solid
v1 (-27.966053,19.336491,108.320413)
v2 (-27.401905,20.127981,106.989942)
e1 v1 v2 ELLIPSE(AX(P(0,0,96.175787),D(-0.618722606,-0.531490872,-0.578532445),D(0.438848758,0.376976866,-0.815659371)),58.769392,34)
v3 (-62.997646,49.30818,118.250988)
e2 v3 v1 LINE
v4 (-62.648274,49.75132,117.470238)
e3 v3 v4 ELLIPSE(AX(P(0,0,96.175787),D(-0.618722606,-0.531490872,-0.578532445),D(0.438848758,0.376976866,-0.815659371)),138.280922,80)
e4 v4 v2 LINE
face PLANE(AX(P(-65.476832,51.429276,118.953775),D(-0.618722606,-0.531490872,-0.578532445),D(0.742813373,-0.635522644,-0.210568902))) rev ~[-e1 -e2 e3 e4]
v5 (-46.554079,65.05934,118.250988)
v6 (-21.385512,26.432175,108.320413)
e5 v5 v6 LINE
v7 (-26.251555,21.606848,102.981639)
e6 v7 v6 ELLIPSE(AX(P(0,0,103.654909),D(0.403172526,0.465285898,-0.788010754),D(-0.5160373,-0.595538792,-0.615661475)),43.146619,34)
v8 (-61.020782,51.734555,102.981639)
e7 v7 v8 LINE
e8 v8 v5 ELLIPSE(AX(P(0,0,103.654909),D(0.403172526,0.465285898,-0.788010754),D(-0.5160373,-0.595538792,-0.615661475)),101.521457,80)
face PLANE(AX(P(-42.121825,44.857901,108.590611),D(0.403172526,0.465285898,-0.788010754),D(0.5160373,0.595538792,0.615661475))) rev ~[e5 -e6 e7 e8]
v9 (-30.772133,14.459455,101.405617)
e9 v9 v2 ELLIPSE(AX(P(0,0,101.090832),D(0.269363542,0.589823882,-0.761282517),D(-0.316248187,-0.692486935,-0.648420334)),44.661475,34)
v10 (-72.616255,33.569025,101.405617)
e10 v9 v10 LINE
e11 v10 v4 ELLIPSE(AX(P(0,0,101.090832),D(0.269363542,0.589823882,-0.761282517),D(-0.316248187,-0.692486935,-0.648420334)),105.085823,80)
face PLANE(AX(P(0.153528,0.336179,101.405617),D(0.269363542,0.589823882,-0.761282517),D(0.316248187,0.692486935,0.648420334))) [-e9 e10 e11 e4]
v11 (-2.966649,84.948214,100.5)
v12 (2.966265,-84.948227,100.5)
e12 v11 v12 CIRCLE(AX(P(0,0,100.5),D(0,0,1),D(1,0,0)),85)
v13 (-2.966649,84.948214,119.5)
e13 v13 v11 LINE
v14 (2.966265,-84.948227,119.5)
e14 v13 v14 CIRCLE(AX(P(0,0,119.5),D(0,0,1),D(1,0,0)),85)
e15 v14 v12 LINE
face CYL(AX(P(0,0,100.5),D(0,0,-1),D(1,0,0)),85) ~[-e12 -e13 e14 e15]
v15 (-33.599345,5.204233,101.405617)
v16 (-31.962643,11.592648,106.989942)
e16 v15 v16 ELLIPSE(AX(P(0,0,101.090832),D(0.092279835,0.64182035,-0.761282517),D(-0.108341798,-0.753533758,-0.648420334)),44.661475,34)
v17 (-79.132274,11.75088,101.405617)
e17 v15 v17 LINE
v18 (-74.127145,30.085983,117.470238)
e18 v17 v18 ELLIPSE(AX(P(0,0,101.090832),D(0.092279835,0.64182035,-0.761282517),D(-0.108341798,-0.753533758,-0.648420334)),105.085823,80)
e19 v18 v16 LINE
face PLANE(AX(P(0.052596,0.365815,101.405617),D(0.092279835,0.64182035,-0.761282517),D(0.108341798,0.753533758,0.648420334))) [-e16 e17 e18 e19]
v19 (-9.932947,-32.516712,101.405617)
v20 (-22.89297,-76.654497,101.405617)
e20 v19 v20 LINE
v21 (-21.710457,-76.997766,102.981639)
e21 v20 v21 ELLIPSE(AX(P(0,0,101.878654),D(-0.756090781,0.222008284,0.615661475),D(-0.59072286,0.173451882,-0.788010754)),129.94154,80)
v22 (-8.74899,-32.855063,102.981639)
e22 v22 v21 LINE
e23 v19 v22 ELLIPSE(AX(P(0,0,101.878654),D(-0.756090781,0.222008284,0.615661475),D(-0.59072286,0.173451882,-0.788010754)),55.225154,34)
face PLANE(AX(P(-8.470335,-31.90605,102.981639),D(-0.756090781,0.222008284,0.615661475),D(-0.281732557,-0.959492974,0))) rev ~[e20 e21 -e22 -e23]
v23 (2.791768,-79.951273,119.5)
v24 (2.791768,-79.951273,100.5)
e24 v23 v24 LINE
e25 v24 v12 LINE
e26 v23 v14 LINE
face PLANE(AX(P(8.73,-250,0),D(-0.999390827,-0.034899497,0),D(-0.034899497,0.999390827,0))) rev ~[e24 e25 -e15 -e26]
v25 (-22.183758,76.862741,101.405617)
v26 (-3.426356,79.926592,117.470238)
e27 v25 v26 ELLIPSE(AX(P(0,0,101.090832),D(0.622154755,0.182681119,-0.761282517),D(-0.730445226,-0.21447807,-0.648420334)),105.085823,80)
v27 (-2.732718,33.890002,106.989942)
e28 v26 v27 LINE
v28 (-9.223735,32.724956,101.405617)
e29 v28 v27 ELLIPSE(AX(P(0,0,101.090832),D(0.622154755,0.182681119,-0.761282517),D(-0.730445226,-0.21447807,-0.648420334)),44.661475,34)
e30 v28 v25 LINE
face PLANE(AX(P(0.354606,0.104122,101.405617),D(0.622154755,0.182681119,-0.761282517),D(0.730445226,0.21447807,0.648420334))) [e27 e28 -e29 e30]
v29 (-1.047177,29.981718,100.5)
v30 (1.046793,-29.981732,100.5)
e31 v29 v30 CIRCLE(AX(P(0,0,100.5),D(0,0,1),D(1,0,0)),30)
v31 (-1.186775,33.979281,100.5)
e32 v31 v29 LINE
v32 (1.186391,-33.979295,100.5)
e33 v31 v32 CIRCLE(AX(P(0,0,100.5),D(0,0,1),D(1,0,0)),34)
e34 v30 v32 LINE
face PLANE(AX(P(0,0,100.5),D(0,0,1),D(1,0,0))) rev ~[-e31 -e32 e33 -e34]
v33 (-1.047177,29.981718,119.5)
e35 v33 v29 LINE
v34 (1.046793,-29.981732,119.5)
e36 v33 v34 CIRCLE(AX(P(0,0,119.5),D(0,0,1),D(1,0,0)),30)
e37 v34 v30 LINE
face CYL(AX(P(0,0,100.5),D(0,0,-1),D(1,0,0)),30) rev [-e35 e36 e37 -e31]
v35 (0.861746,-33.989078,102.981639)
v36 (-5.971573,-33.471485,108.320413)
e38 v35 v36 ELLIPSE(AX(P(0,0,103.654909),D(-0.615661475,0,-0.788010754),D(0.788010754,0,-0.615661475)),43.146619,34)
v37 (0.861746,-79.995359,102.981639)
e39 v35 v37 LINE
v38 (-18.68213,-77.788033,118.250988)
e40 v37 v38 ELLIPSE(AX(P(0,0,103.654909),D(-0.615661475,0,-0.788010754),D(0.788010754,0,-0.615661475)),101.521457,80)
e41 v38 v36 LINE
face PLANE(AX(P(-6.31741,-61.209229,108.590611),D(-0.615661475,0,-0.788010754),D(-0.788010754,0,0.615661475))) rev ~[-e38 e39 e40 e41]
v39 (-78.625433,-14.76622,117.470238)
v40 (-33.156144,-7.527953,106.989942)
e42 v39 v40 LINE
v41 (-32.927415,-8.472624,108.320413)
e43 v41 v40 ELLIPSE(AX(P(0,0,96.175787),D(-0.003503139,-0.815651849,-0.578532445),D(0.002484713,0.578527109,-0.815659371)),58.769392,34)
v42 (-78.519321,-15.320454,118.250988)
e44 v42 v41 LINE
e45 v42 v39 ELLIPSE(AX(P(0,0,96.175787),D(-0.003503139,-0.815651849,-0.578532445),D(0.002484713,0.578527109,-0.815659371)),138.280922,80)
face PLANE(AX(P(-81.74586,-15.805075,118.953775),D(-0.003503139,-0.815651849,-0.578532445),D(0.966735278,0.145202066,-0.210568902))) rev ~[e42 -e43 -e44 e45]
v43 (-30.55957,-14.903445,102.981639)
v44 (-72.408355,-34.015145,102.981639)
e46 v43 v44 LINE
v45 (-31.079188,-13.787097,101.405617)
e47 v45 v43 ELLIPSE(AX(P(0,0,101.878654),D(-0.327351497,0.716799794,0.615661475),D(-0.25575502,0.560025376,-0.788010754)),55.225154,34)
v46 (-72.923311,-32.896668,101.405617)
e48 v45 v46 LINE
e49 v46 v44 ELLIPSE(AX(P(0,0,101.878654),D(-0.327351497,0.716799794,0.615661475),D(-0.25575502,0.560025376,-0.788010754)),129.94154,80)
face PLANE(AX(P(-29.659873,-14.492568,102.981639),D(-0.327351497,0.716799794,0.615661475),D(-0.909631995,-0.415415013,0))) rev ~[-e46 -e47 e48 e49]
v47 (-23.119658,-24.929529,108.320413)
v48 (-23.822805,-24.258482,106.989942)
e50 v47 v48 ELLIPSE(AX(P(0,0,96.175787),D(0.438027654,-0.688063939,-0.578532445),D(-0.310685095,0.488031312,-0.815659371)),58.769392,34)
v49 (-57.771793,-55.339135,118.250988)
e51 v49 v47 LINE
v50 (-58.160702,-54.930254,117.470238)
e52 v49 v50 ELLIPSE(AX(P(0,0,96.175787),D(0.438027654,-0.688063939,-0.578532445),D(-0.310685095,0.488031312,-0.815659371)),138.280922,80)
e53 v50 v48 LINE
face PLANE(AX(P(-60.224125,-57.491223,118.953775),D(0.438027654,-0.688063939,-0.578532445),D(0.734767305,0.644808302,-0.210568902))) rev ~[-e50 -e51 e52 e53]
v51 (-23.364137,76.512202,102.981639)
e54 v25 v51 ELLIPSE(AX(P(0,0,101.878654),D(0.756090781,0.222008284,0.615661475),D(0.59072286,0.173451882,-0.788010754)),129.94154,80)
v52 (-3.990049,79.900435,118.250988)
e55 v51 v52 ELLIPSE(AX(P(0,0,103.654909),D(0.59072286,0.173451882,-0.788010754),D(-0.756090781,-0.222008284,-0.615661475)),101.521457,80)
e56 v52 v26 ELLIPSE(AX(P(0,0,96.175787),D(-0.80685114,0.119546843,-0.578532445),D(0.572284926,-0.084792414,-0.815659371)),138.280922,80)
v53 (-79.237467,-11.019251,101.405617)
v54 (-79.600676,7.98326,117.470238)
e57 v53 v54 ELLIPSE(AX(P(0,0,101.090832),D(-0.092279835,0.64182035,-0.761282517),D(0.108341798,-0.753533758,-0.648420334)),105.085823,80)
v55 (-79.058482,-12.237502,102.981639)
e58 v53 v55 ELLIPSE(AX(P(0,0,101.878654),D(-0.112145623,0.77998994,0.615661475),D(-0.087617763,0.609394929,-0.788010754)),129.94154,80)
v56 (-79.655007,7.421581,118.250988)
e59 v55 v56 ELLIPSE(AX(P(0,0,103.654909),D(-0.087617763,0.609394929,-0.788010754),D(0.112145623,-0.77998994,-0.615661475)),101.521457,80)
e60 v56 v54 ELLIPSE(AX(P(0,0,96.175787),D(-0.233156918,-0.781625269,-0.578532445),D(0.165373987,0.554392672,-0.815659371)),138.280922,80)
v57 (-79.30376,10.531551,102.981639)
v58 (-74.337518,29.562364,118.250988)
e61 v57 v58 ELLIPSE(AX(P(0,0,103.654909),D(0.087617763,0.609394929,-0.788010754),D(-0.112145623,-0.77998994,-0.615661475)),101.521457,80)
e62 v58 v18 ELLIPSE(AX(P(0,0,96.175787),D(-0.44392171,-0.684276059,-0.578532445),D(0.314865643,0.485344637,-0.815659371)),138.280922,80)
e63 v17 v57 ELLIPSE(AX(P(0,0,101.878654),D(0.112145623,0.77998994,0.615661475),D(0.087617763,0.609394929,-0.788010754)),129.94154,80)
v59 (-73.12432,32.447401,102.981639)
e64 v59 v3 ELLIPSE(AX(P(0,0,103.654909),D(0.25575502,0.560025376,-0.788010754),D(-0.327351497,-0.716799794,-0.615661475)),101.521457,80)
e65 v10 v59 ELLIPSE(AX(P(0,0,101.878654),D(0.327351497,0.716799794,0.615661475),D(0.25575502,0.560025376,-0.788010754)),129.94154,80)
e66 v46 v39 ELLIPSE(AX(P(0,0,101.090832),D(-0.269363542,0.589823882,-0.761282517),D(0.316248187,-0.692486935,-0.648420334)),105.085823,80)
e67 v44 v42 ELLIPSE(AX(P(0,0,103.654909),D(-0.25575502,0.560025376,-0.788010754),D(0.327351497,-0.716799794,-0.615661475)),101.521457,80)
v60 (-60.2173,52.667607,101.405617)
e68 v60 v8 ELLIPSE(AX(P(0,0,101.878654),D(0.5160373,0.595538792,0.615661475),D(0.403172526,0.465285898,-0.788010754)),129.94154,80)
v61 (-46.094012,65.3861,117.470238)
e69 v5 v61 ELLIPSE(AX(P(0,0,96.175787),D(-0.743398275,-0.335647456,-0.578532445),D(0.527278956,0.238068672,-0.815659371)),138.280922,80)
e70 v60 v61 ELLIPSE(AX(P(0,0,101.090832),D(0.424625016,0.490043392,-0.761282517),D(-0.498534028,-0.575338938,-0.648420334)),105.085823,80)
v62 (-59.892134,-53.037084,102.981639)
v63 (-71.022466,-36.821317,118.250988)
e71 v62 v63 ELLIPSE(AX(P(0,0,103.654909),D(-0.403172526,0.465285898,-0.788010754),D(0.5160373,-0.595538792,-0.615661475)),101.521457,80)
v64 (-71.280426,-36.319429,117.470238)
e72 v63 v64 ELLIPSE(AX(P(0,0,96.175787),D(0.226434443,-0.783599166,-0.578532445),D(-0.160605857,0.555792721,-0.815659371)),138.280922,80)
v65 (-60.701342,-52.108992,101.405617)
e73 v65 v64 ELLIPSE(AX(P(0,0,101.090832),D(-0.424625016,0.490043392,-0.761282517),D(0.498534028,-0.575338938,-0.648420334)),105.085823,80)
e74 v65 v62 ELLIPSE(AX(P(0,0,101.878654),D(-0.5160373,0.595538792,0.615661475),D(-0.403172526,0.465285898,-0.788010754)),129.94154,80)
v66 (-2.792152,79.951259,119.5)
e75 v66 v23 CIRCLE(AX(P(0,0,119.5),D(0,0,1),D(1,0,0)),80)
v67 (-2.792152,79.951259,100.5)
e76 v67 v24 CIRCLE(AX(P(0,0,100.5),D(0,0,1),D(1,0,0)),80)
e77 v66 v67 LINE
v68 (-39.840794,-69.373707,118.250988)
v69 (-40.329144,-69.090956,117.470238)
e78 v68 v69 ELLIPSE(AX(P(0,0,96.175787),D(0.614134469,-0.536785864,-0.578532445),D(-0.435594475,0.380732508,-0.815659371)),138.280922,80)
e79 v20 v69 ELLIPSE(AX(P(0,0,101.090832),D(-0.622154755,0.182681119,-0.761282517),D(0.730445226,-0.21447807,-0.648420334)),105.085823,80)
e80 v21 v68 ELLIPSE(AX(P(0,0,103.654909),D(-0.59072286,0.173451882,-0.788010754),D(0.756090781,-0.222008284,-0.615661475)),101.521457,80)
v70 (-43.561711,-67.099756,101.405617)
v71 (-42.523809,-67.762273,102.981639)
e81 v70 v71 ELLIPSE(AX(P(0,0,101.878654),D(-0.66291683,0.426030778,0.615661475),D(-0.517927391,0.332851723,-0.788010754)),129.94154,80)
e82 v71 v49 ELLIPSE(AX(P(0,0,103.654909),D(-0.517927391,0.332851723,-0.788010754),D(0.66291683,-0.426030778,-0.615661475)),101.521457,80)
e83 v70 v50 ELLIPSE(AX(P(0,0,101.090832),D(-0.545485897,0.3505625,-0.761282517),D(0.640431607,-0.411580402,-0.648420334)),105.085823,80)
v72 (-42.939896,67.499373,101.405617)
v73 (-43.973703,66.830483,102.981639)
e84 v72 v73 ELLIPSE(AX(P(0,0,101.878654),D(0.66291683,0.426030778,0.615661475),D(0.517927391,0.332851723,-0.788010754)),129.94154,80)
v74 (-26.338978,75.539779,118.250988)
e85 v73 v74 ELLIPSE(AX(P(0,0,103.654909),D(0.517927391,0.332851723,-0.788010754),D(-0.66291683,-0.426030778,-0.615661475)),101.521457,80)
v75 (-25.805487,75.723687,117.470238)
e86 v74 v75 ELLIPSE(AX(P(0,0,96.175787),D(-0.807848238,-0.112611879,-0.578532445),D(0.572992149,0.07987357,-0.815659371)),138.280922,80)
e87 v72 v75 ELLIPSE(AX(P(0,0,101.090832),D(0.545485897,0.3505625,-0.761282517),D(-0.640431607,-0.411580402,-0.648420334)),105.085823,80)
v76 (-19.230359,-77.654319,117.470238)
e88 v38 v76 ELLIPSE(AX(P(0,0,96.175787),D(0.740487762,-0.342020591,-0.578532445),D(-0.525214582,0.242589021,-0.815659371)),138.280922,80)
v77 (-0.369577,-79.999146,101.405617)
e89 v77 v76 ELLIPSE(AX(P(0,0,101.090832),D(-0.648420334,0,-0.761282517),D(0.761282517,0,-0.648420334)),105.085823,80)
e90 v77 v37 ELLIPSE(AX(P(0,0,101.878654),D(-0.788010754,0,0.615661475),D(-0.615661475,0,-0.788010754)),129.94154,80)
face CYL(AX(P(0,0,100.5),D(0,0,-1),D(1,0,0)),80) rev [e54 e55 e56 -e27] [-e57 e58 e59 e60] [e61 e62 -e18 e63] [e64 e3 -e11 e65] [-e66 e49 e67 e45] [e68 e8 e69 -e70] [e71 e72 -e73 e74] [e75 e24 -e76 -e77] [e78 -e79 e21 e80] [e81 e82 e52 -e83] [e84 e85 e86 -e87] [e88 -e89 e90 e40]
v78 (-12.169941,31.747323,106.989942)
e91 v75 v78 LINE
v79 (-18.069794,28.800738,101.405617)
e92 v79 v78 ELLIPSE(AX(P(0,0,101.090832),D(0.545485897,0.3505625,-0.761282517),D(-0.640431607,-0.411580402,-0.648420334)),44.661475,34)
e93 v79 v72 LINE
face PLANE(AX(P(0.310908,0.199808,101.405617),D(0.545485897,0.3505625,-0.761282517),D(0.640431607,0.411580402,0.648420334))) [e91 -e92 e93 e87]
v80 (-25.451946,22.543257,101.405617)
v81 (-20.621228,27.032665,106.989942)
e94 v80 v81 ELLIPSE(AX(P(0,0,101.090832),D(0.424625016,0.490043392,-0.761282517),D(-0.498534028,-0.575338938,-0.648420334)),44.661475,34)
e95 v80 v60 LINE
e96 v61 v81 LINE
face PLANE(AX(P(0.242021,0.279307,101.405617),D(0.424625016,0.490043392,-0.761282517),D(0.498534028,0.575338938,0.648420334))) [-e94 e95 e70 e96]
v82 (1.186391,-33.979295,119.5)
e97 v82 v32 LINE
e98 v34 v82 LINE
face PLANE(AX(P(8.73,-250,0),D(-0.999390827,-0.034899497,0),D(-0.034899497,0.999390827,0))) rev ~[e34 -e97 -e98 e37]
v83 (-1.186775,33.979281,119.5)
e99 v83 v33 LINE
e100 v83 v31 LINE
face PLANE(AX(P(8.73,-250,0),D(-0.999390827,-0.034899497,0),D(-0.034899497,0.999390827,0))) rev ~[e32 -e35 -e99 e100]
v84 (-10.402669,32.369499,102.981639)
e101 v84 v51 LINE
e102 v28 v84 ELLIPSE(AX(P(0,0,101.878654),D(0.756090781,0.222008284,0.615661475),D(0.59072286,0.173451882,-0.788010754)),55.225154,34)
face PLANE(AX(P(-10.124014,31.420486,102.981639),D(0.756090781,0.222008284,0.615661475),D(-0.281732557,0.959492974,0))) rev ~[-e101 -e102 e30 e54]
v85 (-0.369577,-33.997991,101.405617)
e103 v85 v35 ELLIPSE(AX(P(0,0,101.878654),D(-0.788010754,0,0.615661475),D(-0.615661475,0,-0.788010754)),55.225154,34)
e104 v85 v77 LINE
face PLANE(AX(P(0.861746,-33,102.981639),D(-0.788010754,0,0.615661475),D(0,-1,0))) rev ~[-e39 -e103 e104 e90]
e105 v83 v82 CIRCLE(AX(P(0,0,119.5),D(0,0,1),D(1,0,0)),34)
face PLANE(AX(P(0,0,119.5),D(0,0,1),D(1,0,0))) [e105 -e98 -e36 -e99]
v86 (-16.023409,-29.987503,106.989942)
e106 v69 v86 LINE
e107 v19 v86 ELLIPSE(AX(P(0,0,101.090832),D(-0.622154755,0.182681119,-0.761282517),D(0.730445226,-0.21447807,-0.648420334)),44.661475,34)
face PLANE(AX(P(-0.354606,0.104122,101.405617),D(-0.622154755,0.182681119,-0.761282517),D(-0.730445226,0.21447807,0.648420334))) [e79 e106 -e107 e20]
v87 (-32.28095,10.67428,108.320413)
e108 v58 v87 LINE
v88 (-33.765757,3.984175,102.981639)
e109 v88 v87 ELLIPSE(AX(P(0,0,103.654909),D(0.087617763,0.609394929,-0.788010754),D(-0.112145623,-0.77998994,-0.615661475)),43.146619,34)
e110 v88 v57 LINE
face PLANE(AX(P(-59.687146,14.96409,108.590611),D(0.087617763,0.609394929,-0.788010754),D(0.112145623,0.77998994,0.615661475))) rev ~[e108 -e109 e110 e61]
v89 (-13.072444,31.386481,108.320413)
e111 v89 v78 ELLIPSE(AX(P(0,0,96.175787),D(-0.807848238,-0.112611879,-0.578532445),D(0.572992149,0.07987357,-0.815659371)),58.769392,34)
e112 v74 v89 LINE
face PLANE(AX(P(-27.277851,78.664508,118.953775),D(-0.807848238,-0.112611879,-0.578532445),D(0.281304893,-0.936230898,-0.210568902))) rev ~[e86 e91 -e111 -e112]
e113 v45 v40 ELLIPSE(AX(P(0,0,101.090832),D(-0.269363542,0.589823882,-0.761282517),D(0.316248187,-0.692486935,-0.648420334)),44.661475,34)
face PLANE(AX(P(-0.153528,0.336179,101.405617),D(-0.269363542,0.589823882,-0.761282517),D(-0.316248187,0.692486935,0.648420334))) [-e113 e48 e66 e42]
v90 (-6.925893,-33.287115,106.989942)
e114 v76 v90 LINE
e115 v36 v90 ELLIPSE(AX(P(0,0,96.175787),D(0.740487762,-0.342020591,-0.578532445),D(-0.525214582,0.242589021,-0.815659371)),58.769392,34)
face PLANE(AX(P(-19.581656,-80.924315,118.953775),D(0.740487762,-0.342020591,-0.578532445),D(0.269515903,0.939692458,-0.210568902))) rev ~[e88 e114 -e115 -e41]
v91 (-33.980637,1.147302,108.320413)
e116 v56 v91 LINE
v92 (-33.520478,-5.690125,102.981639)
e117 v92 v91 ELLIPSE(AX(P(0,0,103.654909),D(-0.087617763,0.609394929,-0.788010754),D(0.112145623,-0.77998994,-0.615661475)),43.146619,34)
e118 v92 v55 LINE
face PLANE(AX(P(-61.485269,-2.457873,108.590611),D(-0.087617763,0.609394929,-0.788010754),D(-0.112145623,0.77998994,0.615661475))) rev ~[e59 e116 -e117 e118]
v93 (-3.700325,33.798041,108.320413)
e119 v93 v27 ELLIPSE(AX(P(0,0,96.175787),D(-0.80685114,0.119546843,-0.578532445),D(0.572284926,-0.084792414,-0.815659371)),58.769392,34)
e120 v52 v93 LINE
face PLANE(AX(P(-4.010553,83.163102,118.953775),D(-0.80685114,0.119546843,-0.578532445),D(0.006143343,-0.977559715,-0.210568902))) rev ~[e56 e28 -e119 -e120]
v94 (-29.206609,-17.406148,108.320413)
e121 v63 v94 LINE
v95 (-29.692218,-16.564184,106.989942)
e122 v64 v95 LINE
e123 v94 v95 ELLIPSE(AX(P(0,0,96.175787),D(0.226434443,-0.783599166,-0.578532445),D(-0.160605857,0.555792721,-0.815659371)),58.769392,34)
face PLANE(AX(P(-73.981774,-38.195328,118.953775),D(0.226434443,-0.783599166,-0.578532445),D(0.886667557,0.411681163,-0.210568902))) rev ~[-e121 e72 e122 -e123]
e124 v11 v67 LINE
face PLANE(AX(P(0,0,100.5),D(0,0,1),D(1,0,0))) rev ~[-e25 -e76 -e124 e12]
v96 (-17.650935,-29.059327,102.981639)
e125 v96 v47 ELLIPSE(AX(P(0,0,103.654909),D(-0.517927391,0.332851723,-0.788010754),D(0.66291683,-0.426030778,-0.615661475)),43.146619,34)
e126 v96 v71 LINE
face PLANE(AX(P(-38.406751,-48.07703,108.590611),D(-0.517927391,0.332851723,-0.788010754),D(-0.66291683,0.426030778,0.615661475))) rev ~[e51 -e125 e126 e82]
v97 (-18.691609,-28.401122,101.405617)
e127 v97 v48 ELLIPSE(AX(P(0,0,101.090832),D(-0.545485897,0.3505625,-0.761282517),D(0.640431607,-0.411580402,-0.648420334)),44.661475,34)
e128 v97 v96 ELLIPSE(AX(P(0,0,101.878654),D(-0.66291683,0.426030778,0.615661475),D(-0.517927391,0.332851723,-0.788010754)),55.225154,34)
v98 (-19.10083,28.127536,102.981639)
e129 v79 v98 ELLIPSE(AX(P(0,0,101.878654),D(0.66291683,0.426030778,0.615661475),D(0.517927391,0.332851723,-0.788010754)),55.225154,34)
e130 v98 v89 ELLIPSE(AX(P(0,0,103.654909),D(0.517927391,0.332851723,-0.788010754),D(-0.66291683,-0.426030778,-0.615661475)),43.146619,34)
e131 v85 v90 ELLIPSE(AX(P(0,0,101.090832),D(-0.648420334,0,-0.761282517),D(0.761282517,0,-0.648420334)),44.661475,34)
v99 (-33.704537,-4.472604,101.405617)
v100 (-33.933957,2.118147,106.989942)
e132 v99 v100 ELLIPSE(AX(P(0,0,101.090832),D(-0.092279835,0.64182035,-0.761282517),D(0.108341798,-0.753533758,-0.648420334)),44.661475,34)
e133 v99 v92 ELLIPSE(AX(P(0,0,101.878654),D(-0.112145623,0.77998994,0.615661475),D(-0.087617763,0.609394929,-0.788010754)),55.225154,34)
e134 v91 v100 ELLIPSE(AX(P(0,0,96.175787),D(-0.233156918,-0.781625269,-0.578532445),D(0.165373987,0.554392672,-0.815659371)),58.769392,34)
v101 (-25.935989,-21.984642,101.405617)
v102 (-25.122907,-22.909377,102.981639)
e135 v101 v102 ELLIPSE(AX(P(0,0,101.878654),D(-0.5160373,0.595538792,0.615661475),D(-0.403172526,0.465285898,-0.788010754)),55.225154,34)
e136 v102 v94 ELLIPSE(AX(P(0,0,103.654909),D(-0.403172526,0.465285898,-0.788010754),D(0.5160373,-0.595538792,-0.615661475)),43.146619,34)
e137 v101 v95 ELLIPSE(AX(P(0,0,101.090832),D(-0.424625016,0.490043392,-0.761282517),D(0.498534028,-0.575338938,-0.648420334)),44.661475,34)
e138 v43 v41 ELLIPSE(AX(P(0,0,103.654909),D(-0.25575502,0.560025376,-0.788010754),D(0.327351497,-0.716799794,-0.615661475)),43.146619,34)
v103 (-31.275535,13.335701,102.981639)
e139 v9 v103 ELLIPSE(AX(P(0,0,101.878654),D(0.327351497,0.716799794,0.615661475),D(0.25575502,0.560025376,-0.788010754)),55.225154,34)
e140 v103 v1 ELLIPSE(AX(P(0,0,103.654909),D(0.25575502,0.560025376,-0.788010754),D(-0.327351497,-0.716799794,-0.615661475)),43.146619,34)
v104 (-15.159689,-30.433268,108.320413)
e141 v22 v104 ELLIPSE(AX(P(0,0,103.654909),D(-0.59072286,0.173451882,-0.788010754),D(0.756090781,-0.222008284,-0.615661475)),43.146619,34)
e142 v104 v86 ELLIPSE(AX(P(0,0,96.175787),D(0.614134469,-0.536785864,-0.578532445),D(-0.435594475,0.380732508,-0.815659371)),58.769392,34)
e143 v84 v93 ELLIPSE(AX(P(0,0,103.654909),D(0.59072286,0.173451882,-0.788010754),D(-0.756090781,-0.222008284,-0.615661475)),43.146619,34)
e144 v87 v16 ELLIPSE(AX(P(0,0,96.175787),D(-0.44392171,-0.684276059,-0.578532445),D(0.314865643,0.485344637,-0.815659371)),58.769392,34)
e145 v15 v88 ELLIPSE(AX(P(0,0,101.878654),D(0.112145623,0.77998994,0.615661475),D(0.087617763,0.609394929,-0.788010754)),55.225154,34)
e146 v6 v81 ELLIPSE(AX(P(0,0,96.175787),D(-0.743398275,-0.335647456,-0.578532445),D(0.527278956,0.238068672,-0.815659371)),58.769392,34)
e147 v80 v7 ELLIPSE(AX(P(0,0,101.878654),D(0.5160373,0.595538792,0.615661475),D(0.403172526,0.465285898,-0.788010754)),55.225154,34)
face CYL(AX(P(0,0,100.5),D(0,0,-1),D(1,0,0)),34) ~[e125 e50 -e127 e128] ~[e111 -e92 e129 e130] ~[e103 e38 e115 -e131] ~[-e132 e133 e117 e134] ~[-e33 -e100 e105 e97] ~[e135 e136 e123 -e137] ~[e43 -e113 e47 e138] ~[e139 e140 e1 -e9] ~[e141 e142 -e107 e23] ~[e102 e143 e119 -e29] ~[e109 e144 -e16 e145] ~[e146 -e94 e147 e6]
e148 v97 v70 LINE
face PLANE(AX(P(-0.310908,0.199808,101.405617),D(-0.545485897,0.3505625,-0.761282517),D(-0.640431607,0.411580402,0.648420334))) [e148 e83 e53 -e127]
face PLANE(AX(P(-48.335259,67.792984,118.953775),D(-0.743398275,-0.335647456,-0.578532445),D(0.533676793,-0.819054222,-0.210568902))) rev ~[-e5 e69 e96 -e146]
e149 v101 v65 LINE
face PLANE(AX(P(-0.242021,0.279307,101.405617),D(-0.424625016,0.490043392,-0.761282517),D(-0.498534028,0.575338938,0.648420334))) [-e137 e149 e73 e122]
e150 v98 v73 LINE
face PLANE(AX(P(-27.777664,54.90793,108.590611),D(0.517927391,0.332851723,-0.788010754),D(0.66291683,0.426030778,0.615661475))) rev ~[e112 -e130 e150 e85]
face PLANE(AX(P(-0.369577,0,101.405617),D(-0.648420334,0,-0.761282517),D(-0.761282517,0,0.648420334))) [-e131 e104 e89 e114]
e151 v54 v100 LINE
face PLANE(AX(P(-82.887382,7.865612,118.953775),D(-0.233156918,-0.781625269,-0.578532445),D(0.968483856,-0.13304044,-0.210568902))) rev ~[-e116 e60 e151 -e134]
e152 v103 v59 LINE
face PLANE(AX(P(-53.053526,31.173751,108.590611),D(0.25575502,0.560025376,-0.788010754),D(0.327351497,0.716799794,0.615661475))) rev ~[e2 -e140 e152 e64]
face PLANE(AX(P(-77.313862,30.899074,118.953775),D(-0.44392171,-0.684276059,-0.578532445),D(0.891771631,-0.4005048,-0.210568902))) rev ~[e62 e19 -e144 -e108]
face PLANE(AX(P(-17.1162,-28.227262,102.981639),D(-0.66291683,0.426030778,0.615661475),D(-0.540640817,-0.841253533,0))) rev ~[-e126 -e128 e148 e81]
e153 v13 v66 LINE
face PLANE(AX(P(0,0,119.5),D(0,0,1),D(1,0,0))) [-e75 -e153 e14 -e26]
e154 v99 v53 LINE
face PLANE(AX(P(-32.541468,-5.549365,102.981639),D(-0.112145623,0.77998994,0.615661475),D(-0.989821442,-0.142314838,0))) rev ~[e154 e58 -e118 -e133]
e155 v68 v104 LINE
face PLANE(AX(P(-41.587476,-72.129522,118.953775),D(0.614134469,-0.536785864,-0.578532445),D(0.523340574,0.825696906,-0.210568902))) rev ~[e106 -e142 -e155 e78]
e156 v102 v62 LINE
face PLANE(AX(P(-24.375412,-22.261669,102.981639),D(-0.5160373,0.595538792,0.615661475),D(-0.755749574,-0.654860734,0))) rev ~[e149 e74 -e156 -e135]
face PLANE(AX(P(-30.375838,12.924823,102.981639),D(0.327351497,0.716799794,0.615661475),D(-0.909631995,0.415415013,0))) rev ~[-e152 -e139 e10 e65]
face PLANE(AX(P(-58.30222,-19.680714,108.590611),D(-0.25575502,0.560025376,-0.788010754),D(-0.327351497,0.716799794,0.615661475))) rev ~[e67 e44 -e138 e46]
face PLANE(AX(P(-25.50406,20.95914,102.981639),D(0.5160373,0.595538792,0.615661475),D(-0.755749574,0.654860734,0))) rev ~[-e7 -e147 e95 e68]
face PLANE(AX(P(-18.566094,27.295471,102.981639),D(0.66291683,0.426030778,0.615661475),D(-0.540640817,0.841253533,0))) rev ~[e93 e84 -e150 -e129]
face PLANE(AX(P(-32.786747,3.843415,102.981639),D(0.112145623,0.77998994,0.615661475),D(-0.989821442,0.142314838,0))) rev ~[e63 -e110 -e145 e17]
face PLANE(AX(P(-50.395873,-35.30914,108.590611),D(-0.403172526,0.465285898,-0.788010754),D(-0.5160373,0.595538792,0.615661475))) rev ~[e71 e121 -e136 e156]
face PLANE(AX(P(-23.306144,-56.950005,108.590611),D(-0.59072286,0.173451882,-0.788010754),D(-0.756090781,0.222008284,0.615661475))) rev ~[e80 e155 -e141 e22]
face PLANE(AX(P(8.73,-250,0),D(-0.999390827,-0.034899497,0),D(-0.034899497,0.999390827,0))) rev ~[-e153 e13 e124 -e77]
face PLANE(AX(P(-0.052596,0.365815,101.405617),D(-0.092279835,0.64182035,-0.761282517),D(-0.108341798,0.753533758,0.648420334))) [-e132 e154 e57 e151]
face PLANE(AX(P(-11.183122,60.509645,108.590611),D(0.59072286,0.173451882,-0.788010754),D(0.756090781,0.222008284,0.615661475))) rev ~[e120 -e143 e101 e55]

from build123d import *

# Parameters (mm, degrees)
BOX003_W                  = 500
BOX003_H                  = 500
BOX003_DEPTH              = 500
BOX003_PLACEMENT_ANGLE    = 2
TUBE037_R                 = 85
TUBE037_R_2               = 80
TUBE037_DEPTH             = 19
TUBE036_R                 = 100
TUBE036_R_2               = 80
TUBE036_DEPTH             = 200
PAD034_DEPTH              = 100
PAD035_DEPTH              = 2
COMMON016_PLACEMENT_ANGLE = 38
ARRAY015_COUNT            = 22
ARRAY015_PLACEMENT_ANGLE  = 180
TUBE038_R                 = 34
TUBE038_R_2               = 30
TUBE038_DEPTH             = 19


with BuildPart() as cube003:
    # Box003 → Box003 (new body)
    with BuildSketch(Plane.XY):
        with Locations((250, 250)):
            Rectangle(BOX003_W, BOX003_H)
    extrude(amount=BOX003_DEPTH)


with BuildPart() as cube003_1:
    # Box003 placement: moved
    add(cube003.part.moved(Location((8.73, -250, 0))).rotate(Axis((8.73, -250, 0), (0, 0, 1)), BOX003_PLACEMENT_ANGLE))


with BuildPart() as tube037:
    # Tube037 → Tube037 (new body)
    with BuildSketch(Plane.XY.offset(100.5)):
        Circle(TUBE037_R)
        Circle(TUBE037_R_2, mode=Mode.SUBTRACT)
    extrude(amount=TUBE037_DEPTH)


with BuildPart() as tube036:
    # Tube036 → Tube036 (new body)
    with BuildSketch(Plane.XY):
        Circle(TUBE036_R)
        Circle(TUBE036_R_2, mode=Mode.SUBTRACT)
    extrude(amount=TUBE036_DEPTH)


with BuildPart() as body035:
    # Sketch034 → Pad034 (new body)
    with BuildSketch(Plane.XZ):
        Polygon((0, 0), (0, 2), (26, 0.9), (26, 0), align=None)
    extrude(amount=PAD034_DEPTH)


with BuildPart() as body035_1:
    # Body035 placement: moved
    add(body035.part.moved(Location((-5, 0, 5))))


with BuildPart() as cut010:
    # Sketch035 → Pad035 (new body)
    with BuildSketch(Plane.XY):
        Polygon((0, 0), (0, -52), (25.94305, -47.924315), (8.5, 0), align=None)
    extrude(amount=PAD035_DEPTH)


with BuildPart() as cut010_1:
    # Body036 placement: moved
    add(cut010.part.moved(Location((-5, -33, 5))))

    # Common016: intersect Body035
    add(body035_1.part, mode=Mode.INTERSECT)


with BuildPart() as cut010_2:
    # Common016 placement: moved
    add(cut010_1.part.rotate(Axis((0, 0, 0), (0, 1, 0)), COMMON016_PLACEMENT_ANGLE))

    # Array015: Cut010 ×22 about axis
    array015_axis = Axis((0, 0, 0), (0, 0, 1))


with BuildPart() as cut010_3:
    add(cut010_2.part)
    for i in range(1, ARRAY015_COUNT):
        add(cut010_2.part.rotate(array015_axis, i * 360 / ARRAY015_COUNT))


with BuildPart() as cut010_4:
    # Array015 placement: moved
    add(cut010_3.part.moved(Location((0, 0, 110))).rotate(Axis((0, 0, 110), (0, 1, 0)), ARRAY015_PLACEMENT_ANGLE))

    # Cut010: cut Tube036
    add(tube036.part, mode=Mode.SUBTRACT)


with BuildPart() as stator1h2:
    # Tube038 → Tube038 (new body)
    with BuildSketch(Plane.XY.offset(100.5)):
        Circle(TUBE038_R)
        Circle(TUBE038_R_2, mode=Mode.SUBTRACT)
    extrude(amount=TUBE038_DEPTH)

    # Fusion017: union Tube037, Cut010
    add(tube037.part)
    add(cut010_4.part)

    # Cut011: cut Cube003
    add(cube003_1.part, mode=Mode.SUBTRACT)


solid = stator1h2.part
